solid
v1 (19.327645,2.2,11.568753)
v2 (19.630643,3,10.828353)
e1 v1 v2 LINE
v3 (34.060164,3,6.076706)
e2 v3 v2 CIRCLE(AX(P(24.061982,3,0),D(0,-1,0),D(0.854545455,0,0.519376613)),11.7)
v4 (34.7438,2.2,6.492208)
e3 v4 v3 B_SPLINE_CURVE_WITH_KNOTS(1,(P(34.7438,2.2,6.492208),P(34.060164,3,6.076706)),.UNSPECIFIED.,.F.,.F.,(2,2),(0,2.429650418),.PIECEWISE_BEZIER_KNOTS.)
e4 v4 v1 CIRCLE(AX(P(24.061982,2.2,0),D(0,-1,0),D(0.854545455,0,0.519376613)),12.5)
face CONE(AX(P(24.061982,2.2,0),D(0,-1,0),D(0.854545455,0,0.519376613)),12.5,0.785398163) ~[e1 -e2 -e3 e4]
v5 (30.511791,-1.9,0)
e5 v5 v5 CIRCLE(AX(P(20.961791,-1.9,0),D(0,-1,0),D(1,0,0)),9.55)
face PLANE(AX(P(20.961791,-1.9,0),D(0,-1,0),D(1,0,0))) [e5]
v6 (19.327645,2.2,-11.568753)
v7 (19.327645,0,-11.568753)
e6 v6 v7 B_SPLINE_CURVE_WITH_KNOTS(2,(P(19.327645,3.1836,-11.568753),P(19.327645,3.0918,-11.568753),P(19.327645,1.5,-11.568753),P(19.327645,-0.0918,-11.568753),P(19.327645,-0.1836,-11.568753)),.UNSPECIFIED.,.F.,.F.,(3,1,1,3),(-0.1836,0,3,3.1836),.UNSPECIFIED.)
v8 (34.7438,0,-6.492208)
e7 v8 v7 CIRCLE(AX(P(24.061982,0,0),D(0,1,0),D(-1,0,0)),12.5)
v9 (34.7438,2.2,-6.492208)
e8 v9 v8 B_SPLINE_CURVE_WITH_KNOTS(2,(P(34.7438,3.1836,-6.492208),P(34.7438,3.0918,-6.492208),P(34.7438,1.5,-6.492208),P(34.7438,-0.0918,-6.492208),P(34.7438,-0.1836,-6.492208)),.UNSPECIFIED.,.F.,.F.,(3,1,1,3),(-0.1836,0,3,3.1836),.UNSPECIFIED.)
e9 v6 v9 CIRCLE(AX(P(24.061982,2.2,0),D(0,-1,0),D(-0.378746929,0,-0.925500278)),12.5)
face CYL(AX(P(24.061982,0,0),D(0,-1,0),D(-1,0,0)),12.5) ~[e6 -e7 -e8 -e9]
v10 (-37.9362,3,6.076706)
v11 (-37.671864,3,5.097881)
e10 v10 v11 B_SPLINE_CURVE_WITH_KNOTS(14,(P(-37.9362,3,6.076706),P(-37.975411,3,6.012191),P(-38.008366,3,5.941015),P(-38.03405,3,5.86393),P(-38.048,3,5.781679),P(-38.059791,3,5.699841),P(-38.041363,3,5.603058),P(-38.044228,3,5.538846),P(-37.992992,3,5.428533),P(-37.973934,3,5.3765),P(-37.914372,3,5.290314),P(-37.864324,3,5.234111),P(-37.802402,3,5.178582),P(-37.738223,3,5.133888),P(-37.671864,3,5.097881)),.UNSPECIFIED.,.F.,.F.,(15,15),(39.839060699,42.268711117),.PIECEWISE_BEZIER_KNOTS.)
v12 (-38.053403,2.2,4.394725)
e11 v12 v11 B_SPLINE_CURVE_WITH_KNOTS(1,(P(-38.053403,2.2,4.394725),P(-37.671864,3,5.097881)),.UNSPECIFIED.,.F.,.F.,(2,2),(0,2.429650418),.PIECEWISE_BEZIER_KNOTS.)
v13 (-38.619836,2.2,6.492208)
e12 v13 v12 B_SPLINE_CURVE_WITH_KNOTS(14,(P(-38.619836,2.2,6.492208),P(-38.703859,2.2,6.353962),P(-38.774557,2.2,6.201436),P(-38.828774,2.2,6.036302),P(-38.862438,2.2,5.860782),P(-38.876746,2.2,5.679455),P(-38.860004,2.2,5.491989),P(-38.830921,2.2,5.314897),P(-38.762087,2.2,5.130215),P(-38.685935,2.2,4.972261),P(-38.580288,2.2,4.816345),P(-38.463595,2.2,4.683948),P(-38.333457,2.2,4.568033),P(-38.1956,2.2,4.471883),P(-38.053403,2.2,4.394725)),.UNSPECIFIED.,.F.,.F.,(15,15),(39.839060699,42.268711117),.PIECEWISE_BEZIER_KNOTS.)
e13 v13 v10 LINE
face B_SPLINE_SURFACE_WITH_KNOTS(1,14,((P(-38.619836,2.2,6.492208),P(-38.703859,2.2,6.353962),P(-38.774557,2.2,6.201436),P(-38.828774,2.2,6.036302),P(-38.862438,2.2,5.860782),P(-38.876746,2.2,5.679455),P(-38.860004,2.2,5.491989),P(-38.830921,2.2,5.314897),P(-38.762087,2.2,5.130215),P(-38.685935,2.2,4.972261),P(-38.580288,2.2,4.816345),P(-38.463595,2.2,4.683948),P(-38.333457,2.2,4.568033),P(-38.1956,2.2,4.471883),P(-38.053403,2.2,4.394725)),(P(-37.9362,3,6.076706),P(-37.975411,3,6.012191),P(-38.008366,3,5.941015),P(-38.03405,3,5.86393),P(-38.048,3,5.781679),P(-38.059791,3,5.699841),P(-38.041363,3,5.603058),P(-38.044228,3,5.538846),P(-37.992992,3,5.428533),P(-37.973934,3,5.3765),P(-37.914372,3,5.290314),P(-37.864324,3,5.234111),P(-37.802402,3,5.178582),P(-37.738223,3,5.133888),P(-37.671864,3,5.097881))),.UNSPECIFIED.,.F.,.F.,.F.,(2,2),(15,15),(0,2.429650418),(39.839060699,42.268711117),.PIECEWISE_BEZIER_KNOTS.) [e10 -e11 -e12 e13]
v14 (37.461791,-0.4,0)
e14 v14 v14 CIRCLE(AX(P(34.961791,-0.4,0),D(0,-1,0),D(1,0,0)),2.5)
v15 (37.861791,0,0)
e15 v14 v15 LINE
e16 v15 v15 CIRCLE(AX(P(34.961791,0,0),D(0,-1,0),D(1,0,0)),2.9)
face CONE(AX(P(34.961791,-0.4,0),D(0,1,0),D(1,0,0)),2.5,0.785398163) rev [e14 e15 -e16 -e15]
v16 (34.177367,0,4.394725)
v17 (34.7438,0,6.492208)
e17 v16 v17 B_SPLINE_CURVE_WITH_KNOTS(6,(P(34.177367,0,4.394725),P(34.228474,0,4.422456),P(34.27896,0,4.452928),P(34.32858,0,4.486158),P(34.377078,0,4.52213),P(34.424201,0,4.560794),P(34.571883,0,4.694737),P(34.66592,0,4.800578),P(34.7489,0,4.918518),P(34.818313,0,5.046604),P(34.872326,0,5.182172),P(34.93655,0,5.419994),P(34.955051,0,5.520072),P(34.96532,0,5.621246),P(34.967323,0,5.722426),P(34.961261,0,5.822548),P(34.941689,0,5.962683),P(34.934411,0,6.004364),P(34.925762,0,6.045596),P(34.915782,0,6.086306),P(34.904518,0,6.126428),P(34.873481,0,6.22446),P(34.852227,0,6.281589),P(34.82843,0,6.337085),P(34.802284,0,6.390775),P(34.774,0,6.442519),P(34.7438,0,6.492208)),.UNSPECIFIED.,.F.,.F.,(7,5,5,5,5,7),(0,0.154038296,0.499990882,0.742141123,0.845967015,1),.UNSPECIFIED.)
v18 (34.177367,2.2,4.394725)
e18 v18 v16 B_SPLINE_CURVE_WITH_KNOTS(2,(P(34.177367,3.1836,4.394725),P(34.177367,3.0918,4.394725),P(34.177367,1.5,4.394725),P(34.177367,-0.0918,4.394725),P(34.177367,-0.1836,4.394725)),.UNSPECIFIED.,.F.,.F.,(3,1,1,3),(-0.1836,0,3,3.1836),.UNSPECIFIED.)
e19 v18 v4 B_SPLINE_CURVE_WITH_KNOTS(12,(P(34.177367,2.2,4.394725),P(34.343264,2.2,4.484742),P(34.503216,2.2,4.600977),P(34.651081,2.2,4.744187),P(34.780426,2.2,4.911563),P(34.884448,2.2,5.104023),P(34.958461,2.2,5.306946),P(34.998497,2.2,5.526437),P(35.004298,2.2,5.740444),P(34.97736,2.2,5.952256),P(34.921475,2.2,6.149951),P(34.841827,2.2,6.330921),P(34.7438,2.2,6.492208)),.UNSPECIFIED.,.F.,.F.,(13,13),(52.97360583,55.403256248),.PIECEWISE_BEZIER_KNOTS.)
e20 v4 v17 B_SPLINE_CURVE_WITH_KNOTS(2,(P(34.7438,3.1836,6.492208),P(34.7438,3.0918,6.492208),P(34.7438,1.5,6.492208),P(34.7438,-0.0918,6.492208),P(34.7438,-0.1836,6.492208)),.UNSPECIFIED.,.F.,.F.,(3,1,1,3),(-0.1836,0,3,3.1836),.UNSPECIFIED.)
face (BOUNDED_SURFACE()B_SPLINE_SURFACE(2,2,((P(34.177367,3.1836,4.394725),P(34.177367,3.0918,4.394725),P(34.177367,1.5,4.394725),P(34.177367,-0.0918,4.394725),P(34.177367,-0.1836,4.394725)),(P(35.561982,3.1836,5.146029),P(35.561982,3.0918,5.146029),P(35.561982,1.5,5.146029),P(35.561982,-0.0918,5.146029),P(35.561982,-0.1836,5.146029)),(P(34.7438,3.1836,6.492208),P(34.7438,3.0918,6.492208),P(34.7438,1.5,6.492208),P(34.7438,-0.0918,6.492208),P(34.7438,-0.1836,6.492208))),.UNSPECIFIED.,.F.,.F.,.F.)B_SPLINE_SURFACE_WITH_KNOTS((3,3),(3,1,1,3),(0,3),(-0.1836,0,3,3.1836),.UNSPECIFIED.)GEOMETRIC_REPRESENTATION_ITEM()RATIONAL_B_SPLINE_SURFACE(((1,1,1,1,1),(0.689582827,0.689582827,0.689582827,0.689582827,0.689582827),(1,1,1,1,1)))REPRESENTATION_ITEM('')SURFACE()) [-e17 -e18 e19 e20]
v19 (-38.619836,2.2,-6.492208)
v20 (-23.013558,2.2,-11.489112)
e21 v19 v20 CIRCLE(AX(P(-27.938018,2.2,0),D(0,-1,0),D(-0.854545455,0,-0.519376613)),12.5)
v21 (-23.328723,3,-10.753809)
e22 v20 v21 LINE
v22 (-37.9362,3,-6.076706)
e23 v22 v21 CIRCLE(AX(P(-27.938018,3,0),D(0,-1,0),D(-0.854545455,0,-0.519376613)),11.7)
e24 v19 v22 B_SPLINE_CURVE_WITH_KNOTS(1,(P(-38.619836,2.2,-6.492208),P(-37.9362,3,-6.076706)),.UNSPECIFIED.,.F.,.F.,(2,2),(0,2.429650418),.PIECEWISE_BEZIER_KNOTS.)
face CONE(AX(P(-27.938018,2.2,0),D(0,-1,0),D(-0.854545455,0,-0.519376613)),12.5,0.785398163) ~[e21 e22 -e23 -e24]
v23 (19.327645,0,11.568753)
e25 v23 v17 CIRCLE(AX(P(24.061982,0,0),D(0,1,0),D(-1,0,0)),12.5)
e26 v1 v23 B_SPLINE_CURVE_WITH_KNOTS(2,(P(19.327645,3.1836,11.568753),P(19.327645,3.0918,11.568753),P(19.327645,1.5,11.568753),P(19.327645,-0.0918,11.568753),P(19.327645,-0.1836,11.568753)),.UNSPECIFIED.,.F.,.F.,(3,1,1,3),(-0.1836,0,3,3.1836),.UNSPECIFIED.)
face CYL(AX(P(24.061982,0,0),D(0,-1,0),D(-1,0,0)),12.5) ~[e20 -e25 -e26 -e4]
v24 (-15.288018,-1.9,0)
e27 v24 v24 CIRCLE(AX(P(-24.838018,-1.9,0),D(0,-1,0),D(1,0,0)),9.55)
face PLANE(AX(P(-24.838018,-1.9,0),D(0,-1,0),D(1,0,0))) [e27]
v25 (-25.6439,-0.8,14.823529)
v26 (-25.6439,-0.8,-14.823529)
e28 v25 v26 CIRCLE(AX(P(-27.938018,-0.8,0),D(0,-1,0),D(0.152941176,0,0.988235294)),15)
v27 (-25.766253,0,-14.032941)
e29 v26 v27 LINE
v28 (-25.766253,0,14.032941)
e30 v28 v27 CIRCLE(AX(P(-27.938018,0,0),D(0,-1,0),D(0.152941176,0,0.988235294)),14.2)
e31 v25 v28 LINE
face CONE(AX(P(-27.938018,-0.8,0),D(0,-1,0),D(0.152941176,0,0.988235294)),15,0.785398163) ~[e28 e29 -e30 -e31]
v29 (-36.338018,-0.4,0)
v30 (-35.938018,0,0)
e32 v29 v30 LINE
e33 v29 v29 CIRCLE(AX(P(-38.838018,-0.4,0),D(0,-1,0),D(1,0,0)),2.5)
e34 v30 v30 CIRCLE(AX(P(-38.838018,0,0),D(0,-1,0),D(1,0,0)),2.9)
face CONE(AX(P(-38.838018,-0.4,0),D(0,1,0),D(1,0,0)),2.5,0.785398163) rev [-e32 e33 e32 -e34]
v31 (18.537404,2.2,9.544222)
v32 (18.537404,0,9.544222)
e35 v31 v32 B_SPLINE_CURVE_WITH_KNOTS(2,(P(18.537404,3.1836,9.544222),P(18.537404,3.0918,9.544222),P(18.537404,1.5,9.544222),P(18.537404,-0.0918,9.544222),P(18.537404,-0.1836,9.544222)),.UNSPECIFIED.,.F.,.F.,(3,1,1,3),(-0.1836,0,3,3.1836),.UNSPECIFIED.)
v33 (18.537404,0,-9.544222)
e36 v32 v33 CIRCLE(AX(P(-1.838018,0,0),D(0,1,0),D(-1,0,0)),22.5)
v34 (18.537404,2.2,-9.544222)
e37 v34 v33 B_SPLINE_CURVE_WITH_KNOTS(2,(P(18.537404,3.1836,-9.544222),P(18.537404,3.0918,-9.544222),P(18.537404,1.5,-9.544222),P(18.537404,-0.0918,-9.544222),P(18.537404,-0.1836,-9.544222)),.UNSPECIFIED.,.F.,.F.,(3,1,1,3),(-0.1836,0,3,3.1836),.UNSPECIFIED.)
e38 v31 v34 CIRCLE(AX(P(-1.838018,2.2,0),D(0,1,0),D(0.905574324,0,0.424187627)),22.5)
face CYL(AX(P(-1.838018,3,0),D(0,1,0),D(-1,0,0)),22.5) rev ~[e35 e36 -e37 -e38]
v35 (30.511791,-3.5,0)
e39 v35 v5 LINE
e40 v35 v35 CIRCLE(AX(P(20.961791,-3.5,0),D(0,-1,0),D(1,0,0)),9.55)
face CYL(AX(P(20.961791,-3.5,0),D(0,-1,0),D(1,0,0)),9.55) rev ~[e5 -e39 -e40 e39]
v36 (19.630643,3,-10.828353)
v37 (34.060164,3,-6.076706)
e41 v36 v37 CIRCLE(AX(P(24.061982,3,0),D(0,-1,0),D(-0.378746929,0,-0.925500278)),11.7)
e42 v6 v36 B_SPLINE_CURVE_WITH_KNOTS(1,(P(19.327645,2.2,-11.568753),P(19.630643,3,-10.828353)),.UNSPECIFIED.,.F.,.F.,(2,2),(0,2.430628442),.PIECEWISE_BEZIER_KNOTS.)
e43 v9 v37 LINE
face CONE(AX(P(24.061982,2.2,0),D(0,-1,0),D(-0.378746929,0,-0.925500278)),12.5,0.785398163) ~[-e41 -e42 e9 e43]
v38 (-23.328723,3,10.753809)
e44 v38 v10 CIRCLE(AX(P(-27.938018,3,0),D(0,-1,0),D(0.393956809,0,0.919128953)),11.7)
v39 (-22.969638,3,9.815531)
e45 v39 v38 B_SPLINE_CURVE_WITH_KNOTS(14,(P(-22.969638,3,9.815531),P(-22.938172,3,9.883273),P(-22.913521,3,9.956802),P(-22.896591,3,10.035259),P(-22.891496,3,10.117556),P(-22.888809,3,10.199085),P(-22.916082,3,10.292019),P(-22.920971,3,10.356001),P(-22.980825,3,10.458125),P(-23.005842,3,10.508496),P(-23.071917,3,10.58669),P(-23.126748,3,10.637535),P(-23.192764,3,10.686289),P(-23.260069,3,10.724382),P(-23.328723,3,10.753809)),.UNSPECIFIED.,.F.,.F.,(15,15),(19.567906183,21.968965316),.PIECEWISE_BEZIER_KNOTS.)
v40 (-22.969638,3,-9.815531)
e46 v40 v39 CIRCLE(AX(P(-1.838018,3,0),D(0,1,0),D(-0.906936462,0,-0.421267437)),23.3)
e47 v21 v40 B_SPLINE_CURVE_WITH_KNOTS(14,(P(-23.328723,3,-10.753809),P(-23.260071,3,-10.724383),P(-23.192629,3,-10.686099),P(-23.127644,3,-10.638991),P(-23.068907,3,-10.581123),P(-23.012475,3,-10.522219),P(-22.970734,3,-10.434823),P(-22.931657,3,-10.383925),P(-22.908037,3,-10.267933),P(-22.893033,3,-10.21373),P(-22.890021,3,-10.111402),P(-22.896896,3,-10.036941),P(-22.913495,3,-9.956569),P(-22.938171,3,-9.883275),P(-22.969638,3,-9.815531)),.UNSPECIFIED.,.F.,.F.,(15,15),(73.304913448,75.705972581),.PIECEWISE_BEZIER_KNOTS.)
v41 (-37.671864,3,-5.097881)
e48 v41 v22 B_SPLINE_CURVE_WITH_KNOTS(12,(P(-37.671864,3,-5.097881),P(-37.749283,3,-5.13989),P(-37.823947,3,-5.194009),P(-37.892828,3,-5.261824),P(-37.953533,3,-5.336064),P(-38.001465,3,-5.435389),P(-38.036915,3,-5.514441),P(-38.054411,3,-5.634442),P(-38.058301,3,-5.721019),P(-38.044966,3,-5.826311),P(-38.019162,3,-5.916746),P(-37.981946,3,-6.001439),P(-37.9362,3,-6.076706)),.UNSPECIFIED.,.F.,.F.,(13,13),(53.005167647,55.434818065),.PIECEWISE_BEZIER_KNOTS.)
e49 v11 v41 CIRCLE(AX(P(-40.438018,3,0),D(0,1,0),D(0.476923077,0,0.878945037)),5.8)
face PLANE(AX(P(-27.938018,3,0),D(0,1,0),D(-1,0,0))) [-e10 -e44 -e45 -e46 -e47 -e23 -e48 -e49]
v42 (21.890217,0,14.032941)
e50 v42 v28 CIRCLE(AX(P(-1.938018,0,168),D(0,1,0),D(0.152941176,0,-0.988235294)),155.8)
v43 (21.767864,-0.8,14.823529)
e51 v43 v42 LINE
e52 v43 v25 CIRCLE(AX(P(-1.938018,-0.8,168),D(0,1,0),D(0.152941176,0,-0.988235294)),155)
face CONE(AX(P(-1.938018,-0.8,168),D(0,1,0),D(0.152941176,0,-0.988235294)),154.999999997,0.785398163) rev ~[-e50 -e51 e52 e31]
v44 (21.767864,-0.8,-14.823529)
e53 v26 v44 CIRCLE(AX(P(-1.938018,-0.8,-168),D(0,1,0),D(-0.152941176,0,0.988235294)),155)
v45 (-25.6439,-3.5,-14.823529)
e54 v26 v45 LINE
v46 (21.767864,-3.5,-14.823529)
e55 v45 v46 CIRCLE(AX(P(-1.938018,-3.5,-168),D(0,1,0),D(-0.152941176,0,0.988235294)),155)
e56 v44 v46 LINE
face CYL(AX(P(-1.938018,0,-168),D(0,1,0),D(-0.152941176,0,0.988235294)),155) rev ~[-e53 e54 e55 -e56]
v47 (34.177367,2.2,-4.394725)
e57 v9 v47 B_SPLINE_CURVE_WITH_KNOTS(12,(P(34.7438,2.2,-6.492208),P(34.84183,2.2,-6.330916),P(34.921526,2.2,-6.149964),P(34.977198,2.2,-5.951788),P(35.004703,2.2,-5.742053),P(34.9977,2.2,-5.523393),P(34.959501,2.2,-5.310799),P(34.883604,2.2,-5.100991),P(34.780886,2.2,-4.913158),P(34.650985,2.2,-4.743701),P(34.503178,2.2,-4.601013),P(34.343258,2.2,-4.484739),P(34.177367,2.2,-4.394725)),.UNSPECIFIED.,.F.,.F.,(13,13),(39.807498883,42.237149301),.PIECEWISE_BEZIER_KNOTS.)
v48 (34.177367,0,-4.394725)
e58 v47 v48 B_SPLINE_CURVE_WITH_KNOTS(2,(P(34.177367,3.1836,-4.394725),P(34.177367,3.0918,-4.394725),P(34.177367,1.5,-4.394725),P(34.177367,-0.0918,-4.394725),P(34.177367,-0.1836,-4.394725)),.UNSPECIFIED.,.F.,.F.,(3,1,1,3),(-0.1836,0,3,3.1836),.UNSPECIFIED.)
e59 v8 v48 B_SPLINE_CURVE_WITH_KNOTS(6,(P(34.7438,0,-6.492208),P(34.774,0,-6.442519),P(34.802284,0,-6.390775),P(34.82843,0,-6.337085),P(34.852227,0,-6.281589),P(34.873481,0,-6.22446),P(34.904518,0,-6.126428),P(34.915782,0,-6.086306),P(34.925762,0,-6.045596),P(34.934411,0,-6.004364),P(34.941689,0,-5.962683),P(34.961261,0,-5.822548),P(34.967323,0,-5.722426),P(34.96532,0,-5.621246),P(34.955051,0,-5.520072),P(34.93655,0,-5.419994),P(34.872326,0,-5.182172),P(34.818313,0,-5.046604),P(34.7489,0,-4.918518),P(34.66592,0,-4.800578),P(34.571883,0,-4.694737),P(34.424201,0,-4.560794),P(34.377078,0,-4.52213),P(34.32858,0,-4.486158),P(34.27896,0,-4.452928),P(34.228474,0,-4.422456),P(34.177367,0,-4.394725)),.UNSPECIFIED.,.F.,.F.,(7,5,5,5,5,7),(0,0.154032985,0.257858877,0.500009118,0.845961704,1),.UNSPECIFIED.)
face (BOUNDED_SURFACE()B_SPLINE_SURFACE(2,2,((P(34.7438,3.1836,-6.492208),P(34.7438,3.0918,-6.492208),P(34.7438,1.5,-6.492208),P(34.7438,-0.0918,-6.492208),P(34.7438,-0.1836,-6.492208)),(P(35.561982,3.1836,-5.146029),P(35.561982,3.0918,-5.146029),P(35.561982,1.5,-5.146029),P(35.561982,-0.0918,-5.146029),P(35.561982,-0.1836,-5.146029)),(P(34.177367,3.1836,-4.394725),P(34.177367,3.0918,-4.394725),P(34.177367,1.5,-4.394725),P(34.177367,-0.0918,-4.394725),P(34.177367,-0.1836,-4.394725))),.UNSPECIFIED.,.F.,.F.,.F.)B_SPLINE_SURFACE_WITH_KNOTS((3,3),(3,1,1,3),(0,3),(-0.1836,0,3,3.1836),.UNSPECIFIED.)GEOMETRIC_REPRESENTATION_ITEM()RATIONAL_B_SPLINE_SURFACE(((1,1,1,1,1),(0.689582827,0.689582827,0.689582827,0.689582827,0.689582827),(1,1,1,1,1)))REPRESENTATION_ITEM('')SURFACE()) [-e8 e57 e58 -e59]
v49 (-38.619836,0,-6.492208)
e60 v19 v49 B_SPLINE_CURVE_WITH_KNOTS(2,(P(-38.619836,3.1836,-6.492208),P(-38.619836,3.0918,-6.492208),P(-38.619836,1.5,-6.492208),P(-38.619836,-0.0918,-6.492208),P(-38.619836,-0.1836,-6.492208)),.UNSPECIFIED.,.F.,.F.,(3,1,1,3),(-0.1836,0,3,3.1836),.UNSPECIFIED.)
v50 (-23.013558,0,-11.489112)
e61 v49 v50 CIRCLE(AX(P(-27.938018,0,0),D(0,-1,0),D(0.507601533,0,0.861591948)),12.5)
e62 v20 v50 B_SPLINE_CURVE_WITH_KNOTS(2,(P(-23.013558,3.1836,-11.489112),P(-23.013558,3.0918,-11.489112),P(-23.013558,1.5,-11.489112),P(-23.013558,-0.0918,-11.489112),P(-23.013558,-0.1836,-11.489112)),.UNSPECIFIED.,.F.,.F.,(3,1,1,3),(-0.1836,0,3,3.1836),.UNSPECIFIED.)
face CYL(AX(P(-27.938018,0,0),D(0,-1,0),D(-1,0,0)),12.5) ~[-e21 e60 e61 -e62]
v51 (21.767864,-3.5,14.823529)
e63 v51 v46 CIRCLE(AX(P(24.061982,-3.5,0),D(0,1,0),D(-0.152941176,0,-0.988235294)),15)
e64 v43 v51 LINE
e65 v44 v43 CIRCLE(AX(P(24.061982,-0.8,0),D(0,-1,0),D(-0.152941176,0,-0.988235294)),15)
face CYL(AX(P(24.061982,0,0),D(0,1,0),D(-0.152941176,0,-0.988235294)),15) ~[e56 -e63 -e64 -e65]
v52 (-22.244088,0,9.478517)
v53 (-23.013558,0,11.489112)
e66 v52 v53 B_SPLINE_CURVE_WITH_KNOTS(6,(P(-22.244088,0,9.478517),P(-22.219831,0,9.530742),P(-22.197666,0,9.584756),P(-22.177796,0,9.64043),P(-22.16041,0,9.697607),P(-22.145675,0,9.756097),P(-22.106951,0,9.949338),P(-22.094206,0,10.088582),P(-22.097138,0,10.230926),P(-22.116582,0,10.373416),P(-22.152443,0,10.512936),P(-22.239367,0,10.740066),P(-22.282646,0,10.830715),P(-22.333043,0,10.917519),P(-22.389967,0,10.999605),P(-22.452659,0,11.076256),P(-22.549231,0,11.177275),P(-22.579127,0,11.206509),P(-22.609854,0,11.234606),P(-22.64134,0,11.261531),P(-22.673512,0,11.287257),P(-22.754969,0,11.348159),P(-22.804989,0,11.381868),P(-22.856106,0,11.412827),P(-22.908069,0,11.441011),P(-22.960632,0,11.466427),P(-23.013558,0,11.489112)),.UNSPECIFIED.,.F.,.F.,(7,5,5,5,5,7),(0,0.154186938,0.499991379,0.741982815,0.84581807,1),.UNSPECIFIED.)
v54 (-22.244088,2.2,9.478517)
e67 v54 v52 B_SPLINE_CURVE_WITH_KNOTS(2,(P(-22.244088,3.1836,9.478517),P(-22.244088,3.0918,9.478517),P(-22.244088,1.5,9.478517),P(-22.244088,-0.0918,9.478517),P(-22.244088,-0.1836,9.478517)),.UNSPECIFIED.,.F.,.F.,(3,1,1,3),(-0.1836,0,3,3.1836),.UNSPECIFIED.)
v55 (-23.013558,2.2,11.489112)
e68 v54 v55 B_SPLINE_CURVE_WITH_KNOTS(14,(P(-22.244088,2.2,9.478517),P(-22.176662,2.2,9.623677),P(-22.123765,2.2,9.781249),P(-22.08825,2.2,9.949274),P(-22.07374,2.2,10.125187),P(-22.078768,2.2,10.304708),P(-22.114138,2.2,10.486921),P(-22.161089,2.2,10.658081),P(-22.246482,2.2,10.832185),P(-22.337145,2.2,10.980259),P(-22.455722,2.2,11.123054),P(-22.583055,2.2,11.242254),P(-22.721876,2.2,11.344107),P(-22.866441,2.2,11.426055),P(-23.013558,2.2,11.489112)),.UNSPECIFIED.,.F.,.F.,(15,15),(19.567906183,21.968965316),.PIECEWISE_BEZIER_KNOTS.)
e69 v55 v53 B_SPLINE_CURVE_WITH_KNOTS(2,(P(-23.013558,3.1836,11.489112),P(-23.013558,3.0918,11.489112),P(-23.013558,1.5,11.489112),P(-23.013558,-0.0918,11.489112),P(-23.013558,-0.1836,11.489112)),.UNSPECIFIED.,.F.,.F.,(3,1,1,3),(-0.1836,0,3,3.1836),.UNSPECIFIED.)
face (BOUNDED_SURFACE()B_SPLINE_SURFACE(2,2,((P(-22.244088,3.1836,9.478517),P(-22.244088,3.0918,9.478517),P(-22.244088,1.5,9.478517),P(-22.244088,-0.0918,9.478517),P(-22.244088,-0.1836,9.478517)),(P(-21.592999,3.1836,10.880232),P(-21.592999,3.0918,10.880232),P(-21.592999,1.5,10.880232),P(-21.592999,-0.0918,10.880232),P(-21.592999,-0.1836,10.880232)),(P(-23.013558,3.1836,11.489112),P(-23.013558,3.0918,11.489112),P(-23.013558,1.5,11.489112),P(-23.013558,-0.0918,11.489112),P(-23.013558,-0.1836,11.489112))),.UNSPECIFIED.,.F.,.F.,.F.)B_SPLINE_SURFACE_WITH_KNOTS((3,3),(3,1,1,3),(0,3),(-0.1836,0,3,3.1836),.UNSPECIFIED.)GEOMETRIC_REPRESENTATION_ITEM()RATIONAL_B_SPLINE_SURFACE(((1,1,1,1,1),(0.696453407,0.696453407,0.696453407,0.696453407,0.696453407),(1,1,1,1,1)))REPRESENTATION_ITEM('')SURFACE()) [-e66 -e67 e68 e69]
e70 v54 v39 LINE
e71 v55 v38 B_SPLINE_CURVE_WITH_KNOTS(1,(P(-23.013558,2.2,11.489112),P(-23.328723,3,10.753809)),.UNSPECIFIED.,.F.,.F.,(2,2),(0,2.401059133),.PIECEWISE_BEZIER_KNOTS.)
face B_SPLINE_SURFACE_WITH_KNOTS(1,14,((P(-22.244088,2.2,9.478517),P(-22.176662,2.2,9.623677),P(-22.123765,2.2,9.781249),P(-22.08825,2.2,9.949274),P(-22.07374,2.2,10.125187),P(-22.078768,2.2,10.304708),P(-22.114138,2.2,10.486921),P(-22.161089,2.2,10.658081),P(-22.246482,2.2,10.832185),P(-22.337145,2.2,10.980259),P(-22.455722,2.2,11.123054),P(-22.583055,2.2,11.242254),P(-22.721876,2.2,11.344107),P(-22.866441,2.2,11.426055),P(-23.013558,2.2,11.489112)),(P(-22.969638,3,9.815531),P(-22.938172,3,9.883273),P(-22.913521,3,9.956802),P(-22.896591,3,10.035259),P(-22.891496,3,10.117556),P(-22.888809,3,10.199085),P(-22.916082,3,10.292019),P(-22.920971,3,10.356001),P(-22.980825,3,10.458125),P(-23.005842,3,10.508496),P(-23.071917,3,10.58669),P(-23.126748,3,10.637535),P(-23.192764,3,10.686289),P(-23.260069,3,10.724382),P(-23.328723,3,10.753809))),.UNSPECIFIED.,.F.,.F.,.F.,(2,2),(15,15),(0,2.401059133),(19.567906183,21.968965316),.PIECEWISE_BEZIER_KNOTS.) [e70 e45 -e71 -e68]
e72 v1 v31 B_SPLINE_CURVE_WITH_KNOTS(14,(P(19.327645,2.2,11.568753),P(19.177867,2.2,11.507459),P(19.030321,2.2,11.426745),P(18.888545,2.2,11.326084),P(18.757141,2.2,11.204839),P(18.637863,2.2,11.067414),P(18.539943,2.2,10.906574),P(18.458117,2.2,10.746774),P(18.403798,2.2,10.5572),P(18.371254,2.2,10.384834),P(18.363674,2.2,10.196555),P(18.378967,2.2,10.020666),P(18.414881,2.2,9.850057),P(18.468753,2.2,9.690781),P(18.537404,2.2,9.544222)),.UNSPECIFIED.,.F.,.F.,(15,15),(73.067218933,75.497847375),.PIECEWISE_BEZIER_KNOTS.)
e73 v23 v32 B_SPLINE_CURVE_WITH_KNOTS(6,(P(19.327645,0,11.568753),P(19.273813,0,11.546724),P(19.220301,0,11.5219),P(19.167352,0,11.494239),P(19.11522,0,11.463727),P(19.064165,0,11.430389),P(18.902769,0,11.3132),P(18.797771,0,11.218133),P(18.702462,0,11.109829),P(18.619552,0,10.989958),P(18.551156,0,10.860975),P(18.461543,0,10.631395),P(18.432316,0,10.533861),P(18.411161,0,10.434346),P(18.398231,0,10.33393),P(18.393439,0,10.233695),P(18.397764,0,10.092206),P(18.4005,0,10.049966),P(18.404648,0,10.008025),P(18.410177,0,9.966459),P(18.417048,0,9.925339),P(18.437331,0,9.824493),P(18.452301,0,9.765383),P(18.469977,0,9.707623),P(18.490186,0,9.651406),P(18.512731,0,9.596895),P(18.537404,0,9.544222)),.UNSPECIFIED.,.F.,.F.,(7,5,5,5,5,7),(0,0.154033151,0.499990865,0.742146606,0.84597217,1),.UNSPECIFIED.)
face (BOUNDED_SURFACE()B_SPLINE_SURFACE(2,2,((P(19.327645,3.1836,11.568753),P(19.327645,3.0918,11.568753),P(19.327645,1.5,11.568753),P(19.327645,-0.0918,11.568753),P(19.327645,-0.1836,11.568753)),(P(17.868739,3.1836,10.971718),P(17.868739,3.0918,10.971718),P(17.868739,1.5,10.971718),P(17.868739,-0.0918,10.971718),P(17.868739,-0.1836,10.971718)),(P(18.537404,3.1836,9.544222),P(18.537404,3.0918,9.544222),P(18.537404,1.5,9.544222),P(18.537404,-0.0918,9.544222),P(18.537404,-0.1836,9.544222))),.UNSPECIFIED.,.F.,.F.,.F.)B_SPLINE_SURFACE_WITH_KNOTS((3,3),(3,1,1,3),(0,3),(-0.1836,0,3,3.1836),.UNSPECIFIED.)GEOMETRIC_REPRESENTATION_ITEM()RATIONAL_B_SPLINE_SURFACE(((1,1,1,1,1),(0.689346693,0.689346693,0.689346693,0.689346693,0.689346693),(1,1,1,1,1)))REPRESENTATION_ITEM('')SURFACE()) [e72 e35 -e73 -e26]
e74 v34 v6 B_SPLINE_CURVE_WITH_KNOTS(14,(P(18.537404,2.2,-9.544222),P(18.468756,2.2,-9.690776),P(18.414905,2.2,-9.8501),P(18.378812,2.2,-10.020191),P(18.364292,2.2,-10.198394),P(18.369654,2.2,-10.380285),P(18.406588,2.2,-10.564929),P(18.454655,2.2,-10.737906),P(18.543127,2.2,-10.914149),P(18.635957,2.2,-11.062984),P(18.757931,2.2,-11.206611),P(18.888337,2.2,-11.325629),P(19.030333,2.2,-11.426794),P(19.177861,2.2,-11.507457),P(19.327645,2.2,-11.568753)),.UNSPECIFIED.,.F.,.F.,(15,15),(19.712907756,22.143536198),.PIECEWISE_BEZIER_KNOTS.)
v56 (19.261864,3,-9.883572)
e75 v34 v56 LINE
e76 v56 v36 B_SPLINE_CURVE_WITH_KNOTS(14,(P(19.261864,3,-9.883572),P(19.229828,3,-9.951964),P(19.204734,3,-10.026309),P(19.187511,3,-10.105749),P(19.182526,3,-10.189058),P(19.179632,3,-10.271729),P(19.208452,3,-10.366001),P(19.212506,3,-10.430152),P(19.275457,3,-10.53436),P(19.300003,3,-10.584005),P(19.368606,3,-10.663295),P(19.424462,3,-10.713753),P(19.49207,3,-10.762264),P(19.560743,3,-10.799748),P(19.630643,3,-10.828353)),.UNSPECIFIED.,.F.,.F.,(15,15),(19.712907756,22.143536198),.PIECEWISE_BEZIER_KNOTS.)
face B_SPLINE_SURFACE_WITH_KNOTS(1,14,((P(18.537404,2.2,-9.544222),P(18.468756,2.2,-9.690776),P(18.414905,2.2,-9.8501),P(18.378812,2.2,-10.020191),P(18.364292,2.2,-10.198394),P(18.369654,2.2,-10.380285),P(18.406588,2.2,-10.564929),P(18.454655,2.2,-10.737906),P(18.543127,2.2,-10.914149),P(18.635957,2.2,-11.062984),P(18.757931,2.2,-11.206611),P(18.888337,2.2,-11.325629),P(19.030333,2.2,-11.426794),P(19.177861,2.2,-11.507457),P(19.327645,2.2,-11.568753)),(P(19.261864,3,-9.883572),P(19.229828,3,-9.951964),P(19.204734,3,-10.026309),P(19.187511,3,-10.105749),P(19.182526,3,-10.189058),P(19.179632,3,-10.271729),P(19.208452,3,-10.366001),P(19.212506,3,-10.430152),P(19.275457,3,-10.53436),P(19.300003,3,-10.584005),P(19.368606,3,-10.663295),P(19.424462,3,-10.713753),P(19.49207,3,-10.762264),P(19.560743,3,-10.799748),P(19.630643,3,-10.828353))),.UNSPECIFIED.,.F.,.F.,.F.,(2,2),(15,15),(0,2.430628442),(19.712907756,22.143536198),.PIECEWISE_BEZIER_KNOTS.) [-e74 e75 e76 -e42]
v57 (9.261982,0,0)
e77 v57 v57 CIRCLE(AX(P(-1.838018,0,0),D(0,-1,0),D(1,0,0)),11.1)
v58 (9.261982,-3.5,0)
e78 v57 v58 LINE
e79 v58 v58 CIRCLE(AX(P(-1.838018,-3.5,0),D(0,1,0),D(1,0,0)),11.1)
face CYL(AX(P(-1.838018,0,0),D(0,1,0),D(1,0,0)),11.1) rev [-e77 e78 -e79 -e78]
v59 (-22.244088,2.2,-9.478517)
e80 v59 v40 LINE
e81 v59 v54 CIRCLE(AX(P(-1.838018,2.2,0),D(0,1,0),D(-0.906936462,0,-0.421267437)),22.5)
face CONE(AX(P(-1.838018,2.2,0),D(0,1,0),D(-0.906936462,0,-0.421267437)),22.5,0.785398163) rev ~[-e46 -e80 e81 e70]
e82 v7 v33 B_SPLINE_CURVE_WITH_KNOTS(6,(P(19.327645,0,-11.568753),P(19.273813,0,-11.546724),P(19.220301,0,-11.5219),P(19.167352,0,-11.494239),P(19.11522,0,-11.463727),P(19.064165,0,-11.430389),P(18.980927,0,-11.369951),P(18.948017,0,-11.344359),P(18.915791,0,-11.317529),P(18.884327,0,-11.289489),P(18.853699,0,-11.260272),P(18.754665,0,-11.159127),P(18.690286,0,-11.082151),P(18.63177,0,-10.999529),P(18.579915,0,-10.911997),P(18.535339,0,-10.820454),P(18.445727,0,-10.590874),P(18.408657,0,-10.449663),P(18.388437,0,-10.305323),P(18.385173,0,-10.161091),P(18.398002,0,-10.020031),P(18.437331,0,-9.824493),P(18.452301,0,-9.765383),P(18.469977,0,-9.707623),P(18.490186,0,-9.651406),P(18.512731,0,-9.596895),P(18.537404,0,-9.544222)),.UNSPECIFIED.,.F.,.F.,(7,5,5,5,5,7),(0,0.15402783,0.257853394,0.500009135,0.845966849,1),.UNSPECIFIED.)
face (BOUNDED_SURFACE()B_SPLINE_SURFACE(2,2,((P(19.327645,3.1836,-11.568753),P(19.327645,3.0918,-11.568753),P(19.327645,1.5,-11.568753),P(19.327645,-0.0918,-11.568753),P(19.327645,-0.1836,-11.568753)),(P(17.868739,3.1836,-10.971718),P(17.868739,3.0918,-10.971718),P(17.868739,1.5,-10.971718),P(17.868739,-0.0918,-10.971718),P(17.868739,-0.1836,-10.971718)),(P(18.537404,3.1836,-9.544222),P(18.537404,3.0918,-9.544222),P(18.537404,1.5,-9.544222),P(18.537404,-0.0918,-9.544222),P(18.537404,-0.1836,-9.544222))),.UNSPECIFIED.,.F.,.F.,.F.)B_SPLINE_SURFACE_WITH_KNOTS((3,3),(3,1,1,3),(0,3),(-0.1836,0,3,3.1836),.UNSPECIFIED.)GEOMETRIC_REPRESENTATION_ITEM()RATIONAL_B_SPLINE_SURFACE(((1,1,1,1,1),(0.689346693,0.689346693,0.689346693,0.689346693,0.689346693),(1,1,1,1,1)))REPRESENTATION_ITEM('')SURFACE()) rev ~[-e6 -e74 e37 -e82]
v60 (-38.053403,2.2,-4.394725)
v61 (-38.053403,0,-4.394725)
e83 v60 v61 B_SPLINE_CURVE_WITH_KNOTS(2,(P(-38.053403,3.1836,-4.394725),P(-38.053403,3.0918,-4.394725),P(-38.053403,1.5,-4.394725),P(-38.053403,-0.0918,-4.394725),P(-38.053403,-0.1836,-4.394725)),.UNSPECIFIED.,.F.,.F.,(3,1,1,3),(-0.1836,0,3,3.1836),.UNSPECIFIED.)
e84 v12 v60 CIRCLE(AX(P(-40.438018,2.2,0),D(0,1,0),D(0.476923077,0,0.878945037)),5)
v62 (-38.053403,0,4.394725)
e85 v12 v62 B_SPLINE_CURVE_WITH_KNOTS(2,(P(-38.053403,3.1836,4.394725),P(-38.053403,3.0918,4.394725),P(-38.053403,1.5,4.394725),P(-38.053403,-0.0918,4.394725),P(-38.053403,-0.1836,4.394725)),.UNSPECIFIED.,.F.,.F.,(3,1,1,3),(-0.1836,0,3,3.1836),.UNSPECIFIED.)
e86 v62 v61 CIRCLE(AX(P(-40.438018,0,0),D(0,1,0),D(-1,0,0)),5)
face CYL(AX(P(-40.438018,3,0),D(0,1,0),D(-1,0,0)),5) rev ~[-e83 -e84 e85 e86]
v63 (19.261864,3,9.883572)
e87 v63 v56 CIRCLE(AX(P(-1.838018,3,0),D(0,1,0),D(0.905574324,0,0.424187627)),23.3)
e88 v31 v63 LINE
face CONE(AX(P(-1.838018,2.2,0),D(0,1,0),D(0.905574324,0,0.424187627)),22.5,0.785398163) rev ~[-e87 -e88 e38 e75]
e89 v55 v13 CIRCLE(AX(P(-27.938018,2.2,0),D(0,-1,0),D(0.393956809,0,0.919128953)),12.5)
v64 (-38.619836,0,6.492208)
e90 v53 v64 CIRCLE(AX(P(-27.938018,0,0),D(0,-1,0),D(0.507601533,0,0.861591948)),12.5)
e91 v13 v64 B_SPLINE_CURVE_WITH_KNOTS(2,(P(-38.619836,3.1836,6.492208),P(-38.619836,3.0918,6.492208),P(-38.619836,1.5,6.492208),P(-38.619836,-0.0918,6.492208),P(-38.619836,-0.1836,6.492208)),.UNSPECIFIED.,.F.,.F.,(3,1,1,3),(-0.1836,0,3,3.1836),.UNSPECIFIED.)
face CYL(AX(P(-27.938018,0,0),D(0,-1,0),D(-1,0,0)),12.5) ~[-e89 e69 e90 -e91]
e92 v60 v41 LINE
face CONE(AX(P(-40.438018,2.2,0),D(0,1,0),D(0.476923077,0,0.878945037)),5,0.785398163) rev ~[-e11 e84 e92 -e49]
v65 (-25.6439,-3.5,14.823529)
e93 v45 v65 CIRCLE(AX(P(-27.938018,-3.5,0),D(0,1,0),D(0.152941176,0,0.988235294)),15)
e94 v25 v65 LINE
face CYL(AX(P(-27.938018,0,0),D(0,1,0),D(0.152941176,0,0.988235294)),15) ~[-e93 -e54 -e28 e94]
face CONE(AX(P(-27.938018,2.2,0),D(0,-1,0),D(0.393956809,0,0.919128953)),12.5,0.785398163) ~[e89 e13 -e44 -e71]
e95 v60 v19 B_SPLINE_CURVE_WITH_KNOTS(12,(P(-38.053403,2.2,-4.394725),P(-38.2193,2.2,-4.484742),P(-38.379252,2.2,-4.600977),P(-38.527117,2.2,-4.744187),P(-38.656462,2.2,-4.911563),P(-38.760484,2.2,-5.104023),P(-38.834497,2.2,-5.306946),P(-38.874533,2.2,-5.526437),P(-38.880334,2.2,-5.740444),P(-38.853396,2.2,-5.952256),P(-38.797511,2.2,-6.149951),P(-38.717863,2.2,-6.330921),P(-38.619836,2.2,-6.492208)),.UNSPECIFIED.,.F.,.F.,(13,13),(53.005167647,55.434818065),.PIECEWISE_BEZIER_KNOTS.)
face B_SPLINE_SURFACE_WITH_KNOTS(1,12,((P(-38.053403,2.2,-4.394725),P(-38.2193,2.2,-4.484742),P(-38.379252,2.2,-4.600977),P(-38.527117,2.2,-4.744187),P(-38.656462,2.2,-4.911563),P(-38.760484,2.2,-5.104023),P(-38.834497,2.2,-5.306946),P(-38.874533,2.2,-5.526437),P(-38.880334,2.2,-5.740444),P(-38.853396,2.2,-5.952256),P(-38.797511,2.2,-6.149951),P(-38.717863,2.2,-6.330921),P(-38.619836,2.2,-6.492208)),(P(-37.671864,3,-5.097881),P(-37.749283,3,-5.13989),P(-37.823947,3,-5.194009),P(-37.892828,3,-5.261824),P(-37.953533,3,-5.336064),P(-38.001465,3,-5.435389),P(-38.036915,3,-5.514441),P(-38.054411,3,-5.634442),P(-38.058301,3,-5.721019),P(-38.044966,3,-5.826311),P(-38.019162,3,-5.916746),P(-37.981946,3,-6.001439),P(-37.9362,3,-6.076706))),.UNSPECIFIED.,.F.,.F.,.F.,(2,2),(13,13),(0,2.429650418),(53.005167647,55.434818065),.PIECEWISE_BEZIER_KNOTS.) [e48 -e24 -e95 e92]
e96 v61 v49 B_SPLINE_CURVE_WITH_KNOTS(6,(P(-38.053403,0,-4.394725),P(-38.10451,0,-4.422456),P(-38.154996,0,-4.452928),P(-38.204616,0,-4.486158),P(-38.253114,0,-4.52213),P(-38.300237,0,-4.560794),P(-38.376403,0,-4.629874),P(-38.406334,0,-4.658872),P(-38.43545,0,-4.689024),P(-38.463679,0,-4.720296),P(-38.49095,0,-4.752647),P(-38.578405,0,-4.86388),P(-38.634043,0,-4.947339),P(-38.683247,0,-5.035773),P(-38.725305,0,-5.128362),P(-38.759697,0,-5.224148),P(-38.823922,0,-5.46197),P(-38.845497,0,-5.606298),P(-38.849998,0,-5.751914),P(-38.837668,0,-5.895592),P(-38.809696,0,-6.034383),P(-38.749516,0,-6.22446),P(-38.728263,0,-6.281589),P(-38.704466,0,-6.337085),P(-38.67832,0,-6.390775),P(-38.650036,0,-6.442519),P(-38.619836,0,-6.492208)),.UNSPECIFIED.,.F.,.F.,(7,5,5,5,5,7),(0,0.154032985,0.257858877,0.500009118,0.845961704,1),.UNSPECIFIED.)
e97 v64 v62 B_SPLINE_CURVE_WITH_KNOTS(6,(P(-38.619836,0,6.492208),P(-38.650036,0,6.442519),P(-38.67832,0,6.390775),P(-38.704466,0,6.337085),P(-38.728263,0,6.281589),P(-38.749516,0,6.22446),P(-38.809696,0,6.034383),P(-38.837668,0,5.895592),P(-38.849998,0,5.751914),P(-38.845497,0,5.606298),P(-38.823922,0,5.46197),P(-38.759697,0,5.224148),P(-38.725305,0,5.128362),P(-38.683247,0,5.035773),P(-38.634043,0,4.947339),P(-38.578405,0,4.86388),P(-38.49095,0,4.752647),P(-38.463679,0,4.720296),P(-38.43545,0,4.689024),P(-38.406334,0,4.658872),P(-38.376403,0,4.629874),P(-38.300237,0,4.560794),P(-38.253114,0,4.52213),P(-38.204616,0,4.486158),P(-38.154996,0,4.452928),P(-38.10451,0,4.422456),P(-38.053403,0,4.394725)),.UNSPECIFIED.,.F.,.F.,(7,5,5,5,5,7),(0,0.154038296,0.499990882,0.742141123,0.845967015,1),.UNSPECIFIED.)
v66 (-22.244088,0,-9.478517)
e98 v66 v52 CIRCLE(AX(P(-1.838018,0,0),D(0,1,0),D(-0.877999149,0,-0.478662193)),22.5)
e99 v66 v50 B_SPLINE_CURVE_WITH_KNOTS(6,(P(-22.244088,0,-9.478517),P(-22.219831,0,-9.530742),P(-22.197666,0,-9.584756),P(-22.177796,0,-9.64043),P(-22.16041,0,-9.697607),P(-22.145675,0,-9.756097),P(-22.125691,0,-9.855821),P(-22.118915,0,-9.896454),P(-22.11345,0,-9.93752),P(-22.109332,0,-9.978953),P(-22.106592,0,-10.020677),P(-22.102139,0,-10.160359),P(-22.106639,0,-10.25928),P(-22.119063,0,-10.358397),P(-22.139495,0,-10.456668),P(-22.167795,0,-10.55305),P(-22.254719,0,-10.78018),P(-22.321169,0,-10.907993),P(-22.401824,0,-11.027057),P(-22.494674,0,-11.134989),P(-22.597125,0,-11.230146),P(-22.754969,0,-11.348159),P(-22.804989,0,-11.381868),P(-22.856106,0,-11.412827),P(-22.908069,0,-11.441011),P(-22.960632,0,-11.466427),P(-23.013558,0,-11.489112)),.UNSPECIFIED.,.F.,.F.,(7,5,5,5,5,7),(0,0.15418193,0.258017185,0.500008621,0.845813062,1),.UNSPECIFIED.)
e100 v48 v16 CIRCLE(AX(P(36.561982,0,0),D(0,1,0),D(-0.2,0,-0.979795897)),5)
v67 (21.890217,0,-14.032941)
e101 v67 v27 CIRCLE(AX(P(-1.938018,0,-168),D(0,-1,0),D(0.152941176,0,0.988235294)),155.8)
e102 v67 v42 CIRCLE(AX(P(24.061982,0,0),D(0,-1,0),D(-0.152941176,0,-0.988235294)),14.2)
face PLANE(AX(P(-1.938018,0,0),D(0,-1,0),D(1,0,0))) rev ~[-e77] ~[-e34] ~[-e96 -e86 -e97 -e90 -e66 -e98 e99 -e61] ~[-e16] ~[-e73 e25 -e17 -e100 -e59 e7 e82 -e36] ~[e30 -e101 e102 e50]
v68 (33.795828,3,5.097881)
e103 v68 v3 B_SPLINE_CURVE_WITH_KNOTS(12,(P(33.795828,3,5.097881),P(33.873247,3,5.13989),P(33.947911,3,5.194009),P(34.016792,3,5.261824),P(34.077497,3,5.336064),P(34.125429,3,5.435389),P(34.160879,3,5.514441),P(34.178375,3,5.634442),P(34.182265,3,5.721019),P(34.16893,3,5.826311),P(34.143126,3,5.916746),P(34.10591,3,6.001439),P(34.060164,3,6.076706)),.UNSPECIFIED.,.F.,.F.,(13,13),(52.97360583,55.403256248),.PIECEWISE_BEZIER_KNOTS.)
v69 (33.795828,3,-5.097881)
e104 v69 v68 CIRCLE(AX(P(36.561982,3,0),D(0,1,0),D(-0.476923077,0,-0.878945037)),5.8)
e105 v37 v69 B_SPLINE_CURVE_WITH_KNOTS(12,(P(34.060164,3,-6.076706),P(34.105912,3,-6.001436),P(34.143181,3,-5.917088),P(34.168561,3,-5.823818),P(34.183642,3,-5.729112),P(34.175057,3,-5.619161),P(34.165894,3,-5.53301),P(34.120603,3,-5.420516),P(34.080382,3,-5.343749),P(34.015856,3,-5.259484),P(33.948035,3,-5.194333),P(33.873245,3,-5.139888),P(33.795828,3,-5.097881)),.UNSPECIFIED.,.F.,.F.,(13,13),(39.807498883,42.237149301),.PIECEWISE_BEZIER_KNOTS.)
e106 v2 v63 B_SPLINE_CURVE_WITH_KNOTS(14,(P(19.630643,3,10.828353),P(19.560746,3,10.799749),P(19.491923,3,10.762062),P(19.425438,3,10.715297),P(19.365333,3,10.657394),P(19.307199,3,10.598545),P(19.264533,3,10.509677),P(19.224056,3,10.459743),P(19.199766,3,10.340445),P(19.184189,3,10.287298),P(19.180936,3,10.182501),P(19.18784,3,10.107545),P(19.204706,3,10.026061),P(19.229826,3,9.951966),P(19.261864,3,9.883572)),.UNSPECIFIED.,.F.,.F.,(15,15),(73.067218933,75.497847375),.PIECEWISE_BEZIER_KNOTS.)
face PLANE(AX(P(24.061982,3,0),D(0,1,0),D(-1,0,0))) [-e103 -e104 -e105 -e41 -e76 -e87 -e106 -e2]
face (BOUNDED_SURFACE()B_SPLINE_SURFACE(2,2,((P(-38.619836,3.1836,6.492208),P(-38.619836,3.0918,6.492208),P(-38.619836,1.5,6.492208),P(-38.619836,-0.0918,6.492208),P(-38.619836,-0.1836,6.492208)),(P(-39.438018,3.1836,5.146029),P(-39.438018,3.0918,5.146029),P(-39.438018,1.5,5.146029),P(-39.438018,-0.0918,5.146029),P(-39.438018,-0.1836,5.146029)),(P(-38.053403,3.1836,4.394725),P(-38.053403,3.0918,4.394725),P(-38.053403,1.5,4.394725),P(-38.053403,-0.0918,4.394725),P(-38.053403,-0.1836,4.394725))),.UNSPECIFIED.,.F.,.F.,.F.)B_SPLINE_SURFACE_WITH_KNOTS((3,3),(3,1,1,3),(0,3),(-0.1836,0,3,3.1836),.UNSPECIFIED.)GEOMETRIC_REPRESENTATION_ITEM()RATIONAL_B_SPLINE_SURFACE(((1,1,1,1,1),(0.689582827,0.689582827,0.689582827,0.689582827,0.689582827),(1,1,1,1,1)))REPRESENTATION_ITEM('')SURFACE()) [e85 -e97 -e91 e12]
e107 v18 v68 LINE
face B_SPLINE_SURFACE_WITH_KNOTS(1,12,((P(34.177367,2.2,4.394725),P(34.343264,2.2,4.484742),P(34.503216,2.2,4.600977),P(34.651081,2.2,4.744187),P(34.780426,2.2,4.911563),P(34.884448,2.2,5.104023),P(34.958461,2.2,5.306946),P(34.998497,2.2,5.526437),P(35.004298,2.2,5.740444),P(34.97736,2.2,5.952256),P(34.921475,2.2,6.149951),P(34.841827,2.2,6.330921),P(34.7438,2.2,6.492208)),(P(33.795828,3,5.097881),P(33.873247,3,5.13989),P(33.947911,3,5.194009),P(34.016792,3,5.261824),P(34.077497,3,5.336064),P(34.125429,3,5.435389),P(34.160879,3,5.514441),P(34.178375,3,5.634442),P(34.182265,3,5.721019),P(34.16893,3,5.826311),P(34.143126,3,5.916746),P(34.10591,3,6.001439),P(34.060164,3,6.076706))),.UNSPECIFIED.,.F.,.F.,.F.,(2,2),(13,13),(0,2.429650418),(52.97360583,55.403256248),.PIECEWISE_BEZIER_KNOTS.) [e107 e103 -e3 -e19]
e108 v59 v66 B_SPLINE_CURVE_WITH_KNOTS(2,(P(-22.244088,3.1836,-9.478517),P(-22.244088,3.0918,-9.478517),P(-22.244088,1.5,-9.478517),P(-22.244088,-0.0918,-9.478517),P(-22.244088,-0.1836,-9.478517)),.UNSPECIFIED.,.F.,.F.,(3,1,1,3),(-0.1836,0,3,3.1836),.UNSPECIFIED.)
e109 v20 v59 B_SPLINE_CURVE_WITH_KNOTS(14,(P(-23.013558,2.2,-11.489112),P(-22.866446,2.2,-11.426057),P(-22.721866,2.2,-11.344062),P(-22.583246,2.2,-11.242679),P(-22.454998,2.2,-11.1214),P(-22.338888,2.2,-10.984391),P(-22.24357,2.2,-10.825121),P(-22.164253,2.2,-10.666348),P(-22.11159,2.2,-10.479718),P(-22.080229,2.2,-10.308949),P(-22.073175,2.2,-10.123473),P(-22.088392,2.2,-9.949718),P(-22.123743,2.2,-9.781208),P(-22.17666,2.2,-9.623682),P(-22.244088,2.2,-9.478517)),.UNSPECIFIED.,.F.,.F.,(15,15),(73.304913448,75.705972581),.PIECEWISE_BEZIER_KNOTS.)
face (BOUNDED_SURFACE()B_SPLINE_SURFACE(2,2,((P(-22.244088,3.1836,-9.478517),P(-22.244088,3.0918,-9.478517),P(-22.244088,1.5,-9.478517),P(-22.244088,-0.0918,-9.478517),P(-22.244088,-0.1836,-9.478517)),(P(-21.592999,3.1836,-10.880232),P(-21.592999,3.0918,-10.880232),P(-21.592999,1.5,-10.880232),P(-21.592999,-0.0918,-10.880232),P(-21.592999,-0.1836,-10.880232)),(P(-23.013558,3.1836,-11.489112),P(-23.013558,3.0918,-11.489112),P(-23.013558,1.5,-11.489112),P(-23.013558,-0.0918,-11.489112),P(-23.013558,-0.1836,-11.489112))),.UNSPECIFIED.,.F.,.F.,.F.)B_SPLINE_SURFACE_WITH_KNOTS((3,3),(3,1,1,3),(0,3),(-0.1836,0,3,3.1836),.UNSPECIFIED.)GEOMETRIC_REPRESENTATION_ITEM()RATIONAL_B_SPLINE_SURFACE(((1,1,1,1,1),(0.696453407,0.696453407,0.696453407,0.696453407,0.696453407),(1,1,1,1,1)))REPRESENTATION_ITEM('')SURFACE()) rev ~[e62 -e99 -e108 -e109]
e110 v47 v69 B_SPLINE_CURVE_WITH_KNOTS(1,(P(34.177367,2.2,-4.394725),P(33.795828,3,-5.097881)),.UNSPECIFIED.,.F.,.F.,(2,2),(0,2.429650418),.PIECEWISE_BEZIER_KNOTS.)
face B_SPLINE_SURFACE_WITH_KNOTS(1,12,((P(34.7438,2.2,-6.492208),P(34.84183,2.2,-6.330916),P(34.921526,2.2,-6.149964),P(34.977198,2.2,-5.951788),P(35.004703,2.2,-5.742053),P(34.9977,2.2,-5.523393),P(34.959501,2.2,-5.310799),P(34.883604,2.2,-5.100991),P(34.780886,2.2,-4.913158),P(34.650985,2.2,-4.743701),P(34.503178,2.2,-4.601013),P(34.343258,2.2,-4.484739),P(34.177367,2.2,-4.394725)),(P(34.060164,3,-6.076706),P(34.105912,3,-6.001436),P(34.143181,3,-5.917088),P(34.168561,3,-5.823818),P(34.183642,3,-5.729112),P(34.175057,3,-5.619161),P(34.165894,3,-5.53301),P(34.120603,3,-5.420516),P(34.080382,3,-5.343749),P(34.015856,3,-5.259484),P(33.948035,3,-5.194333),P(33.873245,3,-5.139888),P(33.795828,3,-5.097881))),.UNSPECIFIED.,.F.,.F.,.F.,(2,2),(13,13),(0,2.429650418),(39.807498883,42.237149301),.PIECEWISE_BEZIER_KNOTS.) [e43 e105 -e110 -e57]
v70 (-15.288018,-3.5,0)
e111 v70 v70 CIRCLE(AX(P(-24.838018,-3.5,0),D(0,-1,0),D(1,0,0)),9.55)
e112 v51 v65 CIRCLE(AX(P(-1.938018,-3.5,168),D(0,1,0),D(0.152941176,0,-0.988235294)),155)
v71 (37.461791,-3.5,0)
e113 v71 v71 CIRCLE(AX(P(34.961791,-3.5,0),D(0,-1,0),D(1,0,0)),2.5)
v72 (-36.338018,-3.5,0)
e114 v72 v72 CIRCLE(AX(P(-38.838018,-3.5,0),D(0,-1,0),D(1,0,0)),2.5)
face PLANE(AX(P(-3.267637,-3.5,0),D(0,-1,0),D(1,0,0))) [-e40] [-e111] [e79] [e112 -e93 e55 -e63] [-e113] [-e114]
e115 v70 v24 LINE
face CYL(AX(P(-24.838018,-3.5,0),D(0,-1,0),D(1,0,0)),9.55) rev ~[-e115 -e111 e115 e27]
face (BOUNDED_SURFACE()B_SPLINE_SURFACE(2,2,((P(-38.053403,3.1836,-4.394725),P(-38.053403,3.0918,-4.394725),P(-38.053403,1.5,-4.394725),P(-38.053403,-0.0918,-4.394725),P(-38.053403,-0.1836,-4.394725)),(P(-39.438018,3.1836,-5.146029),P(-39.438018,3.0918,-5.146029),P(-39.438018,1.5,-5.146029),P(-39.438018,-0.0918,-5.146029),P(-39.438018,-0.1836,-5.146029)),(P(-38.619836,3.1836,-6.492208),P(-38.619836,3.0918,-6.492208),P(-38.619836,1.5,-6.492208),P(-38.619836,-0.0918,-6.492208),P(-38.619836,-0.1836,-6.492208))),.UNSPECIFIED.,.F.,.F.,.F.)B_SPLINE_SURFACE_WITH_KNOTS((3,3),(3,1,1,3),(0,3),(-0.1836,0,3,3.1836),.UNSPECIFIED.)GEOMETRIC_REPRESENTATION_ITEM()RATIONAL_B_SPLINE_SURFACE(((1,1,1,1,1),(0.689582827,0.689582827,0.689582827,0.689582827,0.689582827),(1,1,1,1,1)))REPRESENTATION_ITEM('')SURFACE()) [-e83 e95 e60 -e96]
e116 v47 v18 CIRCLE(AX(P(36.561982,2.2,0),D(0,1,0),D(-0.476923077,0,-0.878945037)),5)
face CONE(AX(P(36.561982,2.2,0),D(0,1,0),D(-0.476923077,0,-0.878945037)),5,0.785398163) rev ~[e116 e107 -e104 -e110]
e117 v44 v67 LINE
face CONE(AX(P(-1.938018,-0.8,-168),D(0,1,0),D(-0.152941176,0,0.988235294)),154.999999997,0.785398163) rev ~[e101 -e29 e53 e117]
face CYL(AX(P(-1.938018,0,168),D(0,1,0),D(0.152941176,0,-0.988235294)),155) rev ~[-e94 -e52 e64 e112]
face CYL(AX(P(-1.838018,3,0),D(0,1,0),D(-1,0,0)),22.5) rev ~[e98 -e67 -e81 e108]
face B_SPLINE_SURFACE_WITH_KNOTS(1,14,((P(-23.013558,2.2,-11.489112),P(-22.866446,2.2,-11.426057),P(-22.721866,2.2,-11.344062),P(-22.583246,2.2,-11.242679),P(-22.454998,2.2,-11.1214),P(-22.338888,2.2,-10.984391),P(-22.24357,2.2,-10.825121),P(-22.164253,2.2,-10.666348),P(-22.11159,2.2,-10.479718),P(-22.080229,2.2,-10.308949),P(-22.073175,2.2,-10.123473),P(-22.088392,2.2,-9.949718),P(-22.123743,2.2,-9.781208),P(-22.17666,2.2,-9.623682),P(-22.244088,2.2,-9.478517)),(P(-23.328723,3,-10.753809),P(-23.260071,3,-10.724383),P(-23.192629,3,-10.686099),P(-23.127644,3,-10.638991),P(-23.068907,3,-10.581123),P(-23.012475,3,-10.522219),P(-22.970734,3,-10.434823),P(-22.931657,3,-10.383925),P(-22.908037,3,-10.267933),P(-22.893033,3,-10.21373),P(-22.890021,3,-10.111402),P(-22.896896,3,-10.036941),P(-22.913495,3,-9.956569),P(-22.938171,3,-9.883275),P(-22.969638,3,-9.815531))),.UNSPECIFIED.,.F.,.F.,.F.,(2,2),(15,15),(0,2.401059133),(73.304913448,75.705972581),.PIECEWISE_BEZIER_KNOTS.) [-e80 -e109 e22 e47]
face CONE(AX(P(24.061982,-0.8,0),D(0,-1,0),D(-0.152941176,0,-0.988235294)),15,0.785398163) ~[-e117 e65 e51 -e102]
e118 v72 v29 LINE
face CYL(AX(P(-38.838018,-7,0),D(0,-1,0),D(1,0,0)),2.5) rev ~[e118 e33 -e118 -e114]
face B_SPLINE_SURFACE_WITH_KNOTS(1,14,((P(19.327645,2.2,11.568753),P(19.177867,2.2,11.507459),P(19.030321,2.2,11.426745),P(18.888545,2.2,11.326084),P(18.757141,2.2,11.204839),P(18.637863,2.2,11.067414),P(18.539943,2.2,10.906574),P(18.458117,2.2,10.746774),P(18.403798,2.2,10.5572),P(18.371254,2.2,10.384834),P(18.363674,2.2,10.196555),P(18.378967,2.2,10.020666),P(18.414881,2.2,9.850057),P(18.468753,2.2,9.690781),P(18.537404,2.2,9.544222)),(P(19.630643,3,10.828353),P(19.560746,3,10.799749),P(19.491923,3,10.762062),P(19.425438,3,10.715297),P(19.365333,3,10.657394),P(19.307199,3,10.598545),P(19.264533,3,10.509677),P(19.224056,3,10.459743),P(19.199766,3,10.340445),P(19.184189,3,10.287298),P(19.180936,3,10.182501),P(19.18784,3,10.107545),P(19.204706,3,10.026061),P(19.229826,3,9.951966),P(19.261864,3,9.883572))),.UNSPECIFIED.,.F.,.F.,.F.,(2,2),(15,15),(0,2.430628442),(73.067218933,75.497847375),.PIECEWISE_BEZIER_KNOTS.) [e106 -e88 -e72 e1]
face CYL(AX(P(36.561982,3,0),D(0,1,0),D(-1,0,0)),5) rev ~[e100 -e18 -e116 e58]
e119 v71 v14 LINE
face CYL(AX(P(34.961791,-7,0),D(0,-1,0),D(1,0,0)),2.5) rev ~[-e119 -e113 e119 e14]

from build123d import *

# Parameters (mm, degrees)
F0_R      = 11.1
F1_DEPTH  = 7
F2_SIZE   = 0.8
F3_R      = 12.5
F4_DEPTH  = 3
F5_R      = 12.5
F6_DEPTH  = 3
F8_R      = 22.5
F9_DEPTH  = 3
F10_R     = 22.5
F11_DEPTH = 3
F12_R     = 5
F13_DEPTH = 3
F14_R     = 5
F15_DEPTH = 3
F16_R     = 5
F17_DEPTH = 3
F18_R     = 5
F19_DEPTH = 3
F20_R     = 1.5
F21_R     = 2.5
F22_DEPTH = 25
F23_R     = 2.5
F24_DEPTH = 25
F25_SIZE  = 0.4
F26_SIZE  = 0.8
F27_W     = 103.2572649419
F27_H     = 49.3412911892
F28_DEPTH = 6.5
F29_R     = 9.55
F30_DEPTH = 1.6


with BuildPart() as f1:
    # F0 (on Front) → F1 (new body)
    with BuildSketch(Plane.XZ):
        with BuildLine():
            ThreePointArc((21.7678643686, 14.8235294118), (-1.9380179843, 13), (-25.6439003372, 14.8235294118))
            ThreePointArc((-25.6439003372, 14.8235294118), (-42.9380179843, 0), (-25.6439003372, -14.8235294118))
            ThreePointArc((-25.6439003372, -14.8235294118), (-1.9380179843, -13), (21.7678643686, -14.8235294118))
            ThreePointArc((21.7678643686, -14.8235294118), (39.0619820157, 0), (21.7678643686, 14.8235294118))
        make_face()
        with Locations((-1.8380179843, 0)):
            Circle(F0_R, mode=Mode.SUBTRACT)
    extrude(amount=F1_DEPTH)

    # F2
    f2_edges = [f1.edges().sort_by_distance(p)[0] for p in [
        (-42.938018, -7, 0),
        (-1.938018, -7, -13),
        (-1.938018, 0, -13),
    ]]
    chamfer(f2_edges, length=F2_SIZE)

    # F3 (on face) → F4 (join)
    with BuildSketch(Plane.XZ.offset(7)):
        with Locations((-27.9380179843, 0)):
            Circle(F3_R)
        with Locations((24.0619820157, 0)):
            Circle(F3_R)
    extrude(amount=F4_DEPTH)

    # F5 (on face) → F6 (join)
    with BuildSketch(Plane(origin=(0, 0, 0), x_dir=(-1, 0, 0), z_dir=(0, 1, 0))):
        with Locations((-24.0619820157, 0)):
            Circle(F5_R)
        with Locations((27.9380179843, 0)):
            Circle(F5_R)
    extrude(amount=F6_DEPTH)

    # F8 (on face) → F9 (cut)
    with BuildSketch(Plane.XZ.offset(10)):
        with Locations((-1.8380179843, 0)):
            Circle(F8_R)
    extrude(amount=-F9_DEPTH, mode=Mode.SUBTRACT)

    # F10 (on face) → F11 (cut)
    with BuildSketch(Plane(origin=(0, 3, 0), x_dir=(-1, 0, 0), z_dir=(0, 1, 0))):
        with Locations((1.8380179843, 0)):
            Circle(F10_R)
    extrude(amount=-F11_DEPTH, mode=Mode.SUBTRACT)

    # F12 (on face) → F13 (cut)
    with BuildSketch(Plane(origin=(0, 3, 0), x_dir=(-1, 0, 0), z_dir=(0, 1, 0))):
        with Locations((-36.5619820157, 0)):
            Circle(F12_R)
    extrude(amount=-F13_DEPTH, mode=Mode.SUBTRACT)

    # F14 (on face) → F15 (cut)
    with BuildSketch(Plane(origin=(0, 3, 0), x_dir=(-1, 0, 0), z_dir=(0, 1, 0))):
        with Locations((40.4380179843, 0)):
            Circle(F14_R)
    extrude(amount=-F15_DEPTH, mode=Mode.SUBTRACT)

    # F16 (on face) → F17 (cut)
    with BuildSketch(Plane.XZ.offset(10)):
        with Locations((-40.4380179843, 0)):
            Circle(F16_R)
    extrude(amount=-F17_DEPTH, mode=Mode.SUBTRACT)

    # F18 (on face) → F19 (cut)
    with BuildSketch(Plane.XZ.offset(10)):
        with Locations((36.5617908537, 0)):
            Circle(F18_R)
    extrude(amount=-F19_DEPTH, mode=Mode.SUBTRACT)

    # F20
    f20_edges = [f1.edges().sort_by_distance(p)[0] for p in [
        (-39.438018, -8.5, 4.898979),
        (-39.438018, -8.5, -4.898979),
        (-21.592999, -8.5, -10.769899),
        (-21.592999, -8.5, 10.769899),
        (17.868739, -8.5, 10.857888),
        (17.868739, -8.5, -10.857888),
        (35.561967, -8.5, -4.899015),
        (35.561967, -8.5, 4.899015),
        (-21.592999, 1.5, -10.769899),
        (-21.592999, 1.5, 10.769899),
        (-39.438018, 1.5, 4.898979),
        (-39.438018, 1.5, -4.898979),
        (17.868739, 1.5, -10.857888),
        (17.868739, 1.5, 10.857888),
        (35.561982, 1.5, -4.898979),
        (35.561982, 1.5, 4.898979),
    ]]
    fillet(f20_edges, radius=F20_R)

    # F21 (on face) → F22 (cut)
    with BuildSketch(Plane.XZ.offset(7)):
        with Locations((-38.8380179843, 0)):
            Circle(F21_R)
    extrude(amount=-F22_DEPTH, mode=Mode.SUBTRACT)

    # F23 (on face) → F24 (cut)
    with BuildSketch(Plane.XZ.offset(7)):
        with Locations((34.9617908537, 0)):
            Circle(F23_R)
    extrude(amount=-F24_DEPTH, mode=Mode.SUBTRACT)

    # F25
    f25_edges = [f1.edges().sort_by_distance(p)[0] for p in [
        (-41.338018, -7, 0),
        (32.461791, -7, 0),
        (32.461791, 0, 0),
        (-41.338018, 0, 0),
    ]]
    chamfer(f25_edges, length=F25_SIZE)

    # F26
    f26_edges = [f1.edges().sort_by_distance(p)[0] for p in [
        (27.97166, -10, 11.872844),
        (18.498441, -10, 10.725925),
        (34.910055, -10, 5.322137),
        (20.661982, -10, 0),
        (31.561791, -10, 0),
        (18.498441, -10, -10.725925),
        (34.910055, -10, -5.322137),
        (27.97166, -10, -11.872844),
        (-24.338018, -10, 0),
        (-22.203581, -10, 10.646558),
        (-22.203581, -10, -10.646558),
        (-31.749718, -10, 11.904661),
        (-31.749718, -10, -11.904661),
        (-38.786142, -10, 5.322071),
        (-38.786142, -10, -5.322071),
        (-35.438018, -10, 0),
        (-24.338018, 3, 0),
        (-22.203581, 3, -10.646558),
        (-22.203581, 3, 10.646558),
        (-31.749718, 3, -11.904661),
        (-31.749718, 3, 11.904661),
        (-38.786142, 3, -5.322071),
        (-38.786142, 3, 5.322071),
        (-35.438018, 3, 0),
        (20.661982, 3, 0),
        (18.498441, 3, 10.725925),
        (18.498441, 3, -10.725925),
        (27.971709, 3, 11.872828),
        (27.971709, 3, -11.872828),
        (34.910106, 3, 5.322071),
        (34.910106, 3, -5.322071),
        (31.561982, 3, 0),
    ]]
    chamfer(f26_edges, length=F26_SIZE)

    # F27 (on face) → F28 (cut)
    with BuildSketch(Plane.XZ.offset(10)):
        with Locations((-3.2676365227, 0)):
            Rectangle(F27_W, F27_H)
    extrude(amount=-F28_DEPTH, mode=Mode.SUBTRACT)

    # F29 (on face) → F30 (cut)
    with BuildSketch(Plane.XZ.offset(3.5)):
        with Locations((-24.8380179843, 0)):
            Circle(F29_R)
        with Locations((20.9617908537, 0)):
            Circle(F29_R)
    extrude(amount=-F30_DEPTH, mode=Mode.SUBTRACT)


solid = f1.part
